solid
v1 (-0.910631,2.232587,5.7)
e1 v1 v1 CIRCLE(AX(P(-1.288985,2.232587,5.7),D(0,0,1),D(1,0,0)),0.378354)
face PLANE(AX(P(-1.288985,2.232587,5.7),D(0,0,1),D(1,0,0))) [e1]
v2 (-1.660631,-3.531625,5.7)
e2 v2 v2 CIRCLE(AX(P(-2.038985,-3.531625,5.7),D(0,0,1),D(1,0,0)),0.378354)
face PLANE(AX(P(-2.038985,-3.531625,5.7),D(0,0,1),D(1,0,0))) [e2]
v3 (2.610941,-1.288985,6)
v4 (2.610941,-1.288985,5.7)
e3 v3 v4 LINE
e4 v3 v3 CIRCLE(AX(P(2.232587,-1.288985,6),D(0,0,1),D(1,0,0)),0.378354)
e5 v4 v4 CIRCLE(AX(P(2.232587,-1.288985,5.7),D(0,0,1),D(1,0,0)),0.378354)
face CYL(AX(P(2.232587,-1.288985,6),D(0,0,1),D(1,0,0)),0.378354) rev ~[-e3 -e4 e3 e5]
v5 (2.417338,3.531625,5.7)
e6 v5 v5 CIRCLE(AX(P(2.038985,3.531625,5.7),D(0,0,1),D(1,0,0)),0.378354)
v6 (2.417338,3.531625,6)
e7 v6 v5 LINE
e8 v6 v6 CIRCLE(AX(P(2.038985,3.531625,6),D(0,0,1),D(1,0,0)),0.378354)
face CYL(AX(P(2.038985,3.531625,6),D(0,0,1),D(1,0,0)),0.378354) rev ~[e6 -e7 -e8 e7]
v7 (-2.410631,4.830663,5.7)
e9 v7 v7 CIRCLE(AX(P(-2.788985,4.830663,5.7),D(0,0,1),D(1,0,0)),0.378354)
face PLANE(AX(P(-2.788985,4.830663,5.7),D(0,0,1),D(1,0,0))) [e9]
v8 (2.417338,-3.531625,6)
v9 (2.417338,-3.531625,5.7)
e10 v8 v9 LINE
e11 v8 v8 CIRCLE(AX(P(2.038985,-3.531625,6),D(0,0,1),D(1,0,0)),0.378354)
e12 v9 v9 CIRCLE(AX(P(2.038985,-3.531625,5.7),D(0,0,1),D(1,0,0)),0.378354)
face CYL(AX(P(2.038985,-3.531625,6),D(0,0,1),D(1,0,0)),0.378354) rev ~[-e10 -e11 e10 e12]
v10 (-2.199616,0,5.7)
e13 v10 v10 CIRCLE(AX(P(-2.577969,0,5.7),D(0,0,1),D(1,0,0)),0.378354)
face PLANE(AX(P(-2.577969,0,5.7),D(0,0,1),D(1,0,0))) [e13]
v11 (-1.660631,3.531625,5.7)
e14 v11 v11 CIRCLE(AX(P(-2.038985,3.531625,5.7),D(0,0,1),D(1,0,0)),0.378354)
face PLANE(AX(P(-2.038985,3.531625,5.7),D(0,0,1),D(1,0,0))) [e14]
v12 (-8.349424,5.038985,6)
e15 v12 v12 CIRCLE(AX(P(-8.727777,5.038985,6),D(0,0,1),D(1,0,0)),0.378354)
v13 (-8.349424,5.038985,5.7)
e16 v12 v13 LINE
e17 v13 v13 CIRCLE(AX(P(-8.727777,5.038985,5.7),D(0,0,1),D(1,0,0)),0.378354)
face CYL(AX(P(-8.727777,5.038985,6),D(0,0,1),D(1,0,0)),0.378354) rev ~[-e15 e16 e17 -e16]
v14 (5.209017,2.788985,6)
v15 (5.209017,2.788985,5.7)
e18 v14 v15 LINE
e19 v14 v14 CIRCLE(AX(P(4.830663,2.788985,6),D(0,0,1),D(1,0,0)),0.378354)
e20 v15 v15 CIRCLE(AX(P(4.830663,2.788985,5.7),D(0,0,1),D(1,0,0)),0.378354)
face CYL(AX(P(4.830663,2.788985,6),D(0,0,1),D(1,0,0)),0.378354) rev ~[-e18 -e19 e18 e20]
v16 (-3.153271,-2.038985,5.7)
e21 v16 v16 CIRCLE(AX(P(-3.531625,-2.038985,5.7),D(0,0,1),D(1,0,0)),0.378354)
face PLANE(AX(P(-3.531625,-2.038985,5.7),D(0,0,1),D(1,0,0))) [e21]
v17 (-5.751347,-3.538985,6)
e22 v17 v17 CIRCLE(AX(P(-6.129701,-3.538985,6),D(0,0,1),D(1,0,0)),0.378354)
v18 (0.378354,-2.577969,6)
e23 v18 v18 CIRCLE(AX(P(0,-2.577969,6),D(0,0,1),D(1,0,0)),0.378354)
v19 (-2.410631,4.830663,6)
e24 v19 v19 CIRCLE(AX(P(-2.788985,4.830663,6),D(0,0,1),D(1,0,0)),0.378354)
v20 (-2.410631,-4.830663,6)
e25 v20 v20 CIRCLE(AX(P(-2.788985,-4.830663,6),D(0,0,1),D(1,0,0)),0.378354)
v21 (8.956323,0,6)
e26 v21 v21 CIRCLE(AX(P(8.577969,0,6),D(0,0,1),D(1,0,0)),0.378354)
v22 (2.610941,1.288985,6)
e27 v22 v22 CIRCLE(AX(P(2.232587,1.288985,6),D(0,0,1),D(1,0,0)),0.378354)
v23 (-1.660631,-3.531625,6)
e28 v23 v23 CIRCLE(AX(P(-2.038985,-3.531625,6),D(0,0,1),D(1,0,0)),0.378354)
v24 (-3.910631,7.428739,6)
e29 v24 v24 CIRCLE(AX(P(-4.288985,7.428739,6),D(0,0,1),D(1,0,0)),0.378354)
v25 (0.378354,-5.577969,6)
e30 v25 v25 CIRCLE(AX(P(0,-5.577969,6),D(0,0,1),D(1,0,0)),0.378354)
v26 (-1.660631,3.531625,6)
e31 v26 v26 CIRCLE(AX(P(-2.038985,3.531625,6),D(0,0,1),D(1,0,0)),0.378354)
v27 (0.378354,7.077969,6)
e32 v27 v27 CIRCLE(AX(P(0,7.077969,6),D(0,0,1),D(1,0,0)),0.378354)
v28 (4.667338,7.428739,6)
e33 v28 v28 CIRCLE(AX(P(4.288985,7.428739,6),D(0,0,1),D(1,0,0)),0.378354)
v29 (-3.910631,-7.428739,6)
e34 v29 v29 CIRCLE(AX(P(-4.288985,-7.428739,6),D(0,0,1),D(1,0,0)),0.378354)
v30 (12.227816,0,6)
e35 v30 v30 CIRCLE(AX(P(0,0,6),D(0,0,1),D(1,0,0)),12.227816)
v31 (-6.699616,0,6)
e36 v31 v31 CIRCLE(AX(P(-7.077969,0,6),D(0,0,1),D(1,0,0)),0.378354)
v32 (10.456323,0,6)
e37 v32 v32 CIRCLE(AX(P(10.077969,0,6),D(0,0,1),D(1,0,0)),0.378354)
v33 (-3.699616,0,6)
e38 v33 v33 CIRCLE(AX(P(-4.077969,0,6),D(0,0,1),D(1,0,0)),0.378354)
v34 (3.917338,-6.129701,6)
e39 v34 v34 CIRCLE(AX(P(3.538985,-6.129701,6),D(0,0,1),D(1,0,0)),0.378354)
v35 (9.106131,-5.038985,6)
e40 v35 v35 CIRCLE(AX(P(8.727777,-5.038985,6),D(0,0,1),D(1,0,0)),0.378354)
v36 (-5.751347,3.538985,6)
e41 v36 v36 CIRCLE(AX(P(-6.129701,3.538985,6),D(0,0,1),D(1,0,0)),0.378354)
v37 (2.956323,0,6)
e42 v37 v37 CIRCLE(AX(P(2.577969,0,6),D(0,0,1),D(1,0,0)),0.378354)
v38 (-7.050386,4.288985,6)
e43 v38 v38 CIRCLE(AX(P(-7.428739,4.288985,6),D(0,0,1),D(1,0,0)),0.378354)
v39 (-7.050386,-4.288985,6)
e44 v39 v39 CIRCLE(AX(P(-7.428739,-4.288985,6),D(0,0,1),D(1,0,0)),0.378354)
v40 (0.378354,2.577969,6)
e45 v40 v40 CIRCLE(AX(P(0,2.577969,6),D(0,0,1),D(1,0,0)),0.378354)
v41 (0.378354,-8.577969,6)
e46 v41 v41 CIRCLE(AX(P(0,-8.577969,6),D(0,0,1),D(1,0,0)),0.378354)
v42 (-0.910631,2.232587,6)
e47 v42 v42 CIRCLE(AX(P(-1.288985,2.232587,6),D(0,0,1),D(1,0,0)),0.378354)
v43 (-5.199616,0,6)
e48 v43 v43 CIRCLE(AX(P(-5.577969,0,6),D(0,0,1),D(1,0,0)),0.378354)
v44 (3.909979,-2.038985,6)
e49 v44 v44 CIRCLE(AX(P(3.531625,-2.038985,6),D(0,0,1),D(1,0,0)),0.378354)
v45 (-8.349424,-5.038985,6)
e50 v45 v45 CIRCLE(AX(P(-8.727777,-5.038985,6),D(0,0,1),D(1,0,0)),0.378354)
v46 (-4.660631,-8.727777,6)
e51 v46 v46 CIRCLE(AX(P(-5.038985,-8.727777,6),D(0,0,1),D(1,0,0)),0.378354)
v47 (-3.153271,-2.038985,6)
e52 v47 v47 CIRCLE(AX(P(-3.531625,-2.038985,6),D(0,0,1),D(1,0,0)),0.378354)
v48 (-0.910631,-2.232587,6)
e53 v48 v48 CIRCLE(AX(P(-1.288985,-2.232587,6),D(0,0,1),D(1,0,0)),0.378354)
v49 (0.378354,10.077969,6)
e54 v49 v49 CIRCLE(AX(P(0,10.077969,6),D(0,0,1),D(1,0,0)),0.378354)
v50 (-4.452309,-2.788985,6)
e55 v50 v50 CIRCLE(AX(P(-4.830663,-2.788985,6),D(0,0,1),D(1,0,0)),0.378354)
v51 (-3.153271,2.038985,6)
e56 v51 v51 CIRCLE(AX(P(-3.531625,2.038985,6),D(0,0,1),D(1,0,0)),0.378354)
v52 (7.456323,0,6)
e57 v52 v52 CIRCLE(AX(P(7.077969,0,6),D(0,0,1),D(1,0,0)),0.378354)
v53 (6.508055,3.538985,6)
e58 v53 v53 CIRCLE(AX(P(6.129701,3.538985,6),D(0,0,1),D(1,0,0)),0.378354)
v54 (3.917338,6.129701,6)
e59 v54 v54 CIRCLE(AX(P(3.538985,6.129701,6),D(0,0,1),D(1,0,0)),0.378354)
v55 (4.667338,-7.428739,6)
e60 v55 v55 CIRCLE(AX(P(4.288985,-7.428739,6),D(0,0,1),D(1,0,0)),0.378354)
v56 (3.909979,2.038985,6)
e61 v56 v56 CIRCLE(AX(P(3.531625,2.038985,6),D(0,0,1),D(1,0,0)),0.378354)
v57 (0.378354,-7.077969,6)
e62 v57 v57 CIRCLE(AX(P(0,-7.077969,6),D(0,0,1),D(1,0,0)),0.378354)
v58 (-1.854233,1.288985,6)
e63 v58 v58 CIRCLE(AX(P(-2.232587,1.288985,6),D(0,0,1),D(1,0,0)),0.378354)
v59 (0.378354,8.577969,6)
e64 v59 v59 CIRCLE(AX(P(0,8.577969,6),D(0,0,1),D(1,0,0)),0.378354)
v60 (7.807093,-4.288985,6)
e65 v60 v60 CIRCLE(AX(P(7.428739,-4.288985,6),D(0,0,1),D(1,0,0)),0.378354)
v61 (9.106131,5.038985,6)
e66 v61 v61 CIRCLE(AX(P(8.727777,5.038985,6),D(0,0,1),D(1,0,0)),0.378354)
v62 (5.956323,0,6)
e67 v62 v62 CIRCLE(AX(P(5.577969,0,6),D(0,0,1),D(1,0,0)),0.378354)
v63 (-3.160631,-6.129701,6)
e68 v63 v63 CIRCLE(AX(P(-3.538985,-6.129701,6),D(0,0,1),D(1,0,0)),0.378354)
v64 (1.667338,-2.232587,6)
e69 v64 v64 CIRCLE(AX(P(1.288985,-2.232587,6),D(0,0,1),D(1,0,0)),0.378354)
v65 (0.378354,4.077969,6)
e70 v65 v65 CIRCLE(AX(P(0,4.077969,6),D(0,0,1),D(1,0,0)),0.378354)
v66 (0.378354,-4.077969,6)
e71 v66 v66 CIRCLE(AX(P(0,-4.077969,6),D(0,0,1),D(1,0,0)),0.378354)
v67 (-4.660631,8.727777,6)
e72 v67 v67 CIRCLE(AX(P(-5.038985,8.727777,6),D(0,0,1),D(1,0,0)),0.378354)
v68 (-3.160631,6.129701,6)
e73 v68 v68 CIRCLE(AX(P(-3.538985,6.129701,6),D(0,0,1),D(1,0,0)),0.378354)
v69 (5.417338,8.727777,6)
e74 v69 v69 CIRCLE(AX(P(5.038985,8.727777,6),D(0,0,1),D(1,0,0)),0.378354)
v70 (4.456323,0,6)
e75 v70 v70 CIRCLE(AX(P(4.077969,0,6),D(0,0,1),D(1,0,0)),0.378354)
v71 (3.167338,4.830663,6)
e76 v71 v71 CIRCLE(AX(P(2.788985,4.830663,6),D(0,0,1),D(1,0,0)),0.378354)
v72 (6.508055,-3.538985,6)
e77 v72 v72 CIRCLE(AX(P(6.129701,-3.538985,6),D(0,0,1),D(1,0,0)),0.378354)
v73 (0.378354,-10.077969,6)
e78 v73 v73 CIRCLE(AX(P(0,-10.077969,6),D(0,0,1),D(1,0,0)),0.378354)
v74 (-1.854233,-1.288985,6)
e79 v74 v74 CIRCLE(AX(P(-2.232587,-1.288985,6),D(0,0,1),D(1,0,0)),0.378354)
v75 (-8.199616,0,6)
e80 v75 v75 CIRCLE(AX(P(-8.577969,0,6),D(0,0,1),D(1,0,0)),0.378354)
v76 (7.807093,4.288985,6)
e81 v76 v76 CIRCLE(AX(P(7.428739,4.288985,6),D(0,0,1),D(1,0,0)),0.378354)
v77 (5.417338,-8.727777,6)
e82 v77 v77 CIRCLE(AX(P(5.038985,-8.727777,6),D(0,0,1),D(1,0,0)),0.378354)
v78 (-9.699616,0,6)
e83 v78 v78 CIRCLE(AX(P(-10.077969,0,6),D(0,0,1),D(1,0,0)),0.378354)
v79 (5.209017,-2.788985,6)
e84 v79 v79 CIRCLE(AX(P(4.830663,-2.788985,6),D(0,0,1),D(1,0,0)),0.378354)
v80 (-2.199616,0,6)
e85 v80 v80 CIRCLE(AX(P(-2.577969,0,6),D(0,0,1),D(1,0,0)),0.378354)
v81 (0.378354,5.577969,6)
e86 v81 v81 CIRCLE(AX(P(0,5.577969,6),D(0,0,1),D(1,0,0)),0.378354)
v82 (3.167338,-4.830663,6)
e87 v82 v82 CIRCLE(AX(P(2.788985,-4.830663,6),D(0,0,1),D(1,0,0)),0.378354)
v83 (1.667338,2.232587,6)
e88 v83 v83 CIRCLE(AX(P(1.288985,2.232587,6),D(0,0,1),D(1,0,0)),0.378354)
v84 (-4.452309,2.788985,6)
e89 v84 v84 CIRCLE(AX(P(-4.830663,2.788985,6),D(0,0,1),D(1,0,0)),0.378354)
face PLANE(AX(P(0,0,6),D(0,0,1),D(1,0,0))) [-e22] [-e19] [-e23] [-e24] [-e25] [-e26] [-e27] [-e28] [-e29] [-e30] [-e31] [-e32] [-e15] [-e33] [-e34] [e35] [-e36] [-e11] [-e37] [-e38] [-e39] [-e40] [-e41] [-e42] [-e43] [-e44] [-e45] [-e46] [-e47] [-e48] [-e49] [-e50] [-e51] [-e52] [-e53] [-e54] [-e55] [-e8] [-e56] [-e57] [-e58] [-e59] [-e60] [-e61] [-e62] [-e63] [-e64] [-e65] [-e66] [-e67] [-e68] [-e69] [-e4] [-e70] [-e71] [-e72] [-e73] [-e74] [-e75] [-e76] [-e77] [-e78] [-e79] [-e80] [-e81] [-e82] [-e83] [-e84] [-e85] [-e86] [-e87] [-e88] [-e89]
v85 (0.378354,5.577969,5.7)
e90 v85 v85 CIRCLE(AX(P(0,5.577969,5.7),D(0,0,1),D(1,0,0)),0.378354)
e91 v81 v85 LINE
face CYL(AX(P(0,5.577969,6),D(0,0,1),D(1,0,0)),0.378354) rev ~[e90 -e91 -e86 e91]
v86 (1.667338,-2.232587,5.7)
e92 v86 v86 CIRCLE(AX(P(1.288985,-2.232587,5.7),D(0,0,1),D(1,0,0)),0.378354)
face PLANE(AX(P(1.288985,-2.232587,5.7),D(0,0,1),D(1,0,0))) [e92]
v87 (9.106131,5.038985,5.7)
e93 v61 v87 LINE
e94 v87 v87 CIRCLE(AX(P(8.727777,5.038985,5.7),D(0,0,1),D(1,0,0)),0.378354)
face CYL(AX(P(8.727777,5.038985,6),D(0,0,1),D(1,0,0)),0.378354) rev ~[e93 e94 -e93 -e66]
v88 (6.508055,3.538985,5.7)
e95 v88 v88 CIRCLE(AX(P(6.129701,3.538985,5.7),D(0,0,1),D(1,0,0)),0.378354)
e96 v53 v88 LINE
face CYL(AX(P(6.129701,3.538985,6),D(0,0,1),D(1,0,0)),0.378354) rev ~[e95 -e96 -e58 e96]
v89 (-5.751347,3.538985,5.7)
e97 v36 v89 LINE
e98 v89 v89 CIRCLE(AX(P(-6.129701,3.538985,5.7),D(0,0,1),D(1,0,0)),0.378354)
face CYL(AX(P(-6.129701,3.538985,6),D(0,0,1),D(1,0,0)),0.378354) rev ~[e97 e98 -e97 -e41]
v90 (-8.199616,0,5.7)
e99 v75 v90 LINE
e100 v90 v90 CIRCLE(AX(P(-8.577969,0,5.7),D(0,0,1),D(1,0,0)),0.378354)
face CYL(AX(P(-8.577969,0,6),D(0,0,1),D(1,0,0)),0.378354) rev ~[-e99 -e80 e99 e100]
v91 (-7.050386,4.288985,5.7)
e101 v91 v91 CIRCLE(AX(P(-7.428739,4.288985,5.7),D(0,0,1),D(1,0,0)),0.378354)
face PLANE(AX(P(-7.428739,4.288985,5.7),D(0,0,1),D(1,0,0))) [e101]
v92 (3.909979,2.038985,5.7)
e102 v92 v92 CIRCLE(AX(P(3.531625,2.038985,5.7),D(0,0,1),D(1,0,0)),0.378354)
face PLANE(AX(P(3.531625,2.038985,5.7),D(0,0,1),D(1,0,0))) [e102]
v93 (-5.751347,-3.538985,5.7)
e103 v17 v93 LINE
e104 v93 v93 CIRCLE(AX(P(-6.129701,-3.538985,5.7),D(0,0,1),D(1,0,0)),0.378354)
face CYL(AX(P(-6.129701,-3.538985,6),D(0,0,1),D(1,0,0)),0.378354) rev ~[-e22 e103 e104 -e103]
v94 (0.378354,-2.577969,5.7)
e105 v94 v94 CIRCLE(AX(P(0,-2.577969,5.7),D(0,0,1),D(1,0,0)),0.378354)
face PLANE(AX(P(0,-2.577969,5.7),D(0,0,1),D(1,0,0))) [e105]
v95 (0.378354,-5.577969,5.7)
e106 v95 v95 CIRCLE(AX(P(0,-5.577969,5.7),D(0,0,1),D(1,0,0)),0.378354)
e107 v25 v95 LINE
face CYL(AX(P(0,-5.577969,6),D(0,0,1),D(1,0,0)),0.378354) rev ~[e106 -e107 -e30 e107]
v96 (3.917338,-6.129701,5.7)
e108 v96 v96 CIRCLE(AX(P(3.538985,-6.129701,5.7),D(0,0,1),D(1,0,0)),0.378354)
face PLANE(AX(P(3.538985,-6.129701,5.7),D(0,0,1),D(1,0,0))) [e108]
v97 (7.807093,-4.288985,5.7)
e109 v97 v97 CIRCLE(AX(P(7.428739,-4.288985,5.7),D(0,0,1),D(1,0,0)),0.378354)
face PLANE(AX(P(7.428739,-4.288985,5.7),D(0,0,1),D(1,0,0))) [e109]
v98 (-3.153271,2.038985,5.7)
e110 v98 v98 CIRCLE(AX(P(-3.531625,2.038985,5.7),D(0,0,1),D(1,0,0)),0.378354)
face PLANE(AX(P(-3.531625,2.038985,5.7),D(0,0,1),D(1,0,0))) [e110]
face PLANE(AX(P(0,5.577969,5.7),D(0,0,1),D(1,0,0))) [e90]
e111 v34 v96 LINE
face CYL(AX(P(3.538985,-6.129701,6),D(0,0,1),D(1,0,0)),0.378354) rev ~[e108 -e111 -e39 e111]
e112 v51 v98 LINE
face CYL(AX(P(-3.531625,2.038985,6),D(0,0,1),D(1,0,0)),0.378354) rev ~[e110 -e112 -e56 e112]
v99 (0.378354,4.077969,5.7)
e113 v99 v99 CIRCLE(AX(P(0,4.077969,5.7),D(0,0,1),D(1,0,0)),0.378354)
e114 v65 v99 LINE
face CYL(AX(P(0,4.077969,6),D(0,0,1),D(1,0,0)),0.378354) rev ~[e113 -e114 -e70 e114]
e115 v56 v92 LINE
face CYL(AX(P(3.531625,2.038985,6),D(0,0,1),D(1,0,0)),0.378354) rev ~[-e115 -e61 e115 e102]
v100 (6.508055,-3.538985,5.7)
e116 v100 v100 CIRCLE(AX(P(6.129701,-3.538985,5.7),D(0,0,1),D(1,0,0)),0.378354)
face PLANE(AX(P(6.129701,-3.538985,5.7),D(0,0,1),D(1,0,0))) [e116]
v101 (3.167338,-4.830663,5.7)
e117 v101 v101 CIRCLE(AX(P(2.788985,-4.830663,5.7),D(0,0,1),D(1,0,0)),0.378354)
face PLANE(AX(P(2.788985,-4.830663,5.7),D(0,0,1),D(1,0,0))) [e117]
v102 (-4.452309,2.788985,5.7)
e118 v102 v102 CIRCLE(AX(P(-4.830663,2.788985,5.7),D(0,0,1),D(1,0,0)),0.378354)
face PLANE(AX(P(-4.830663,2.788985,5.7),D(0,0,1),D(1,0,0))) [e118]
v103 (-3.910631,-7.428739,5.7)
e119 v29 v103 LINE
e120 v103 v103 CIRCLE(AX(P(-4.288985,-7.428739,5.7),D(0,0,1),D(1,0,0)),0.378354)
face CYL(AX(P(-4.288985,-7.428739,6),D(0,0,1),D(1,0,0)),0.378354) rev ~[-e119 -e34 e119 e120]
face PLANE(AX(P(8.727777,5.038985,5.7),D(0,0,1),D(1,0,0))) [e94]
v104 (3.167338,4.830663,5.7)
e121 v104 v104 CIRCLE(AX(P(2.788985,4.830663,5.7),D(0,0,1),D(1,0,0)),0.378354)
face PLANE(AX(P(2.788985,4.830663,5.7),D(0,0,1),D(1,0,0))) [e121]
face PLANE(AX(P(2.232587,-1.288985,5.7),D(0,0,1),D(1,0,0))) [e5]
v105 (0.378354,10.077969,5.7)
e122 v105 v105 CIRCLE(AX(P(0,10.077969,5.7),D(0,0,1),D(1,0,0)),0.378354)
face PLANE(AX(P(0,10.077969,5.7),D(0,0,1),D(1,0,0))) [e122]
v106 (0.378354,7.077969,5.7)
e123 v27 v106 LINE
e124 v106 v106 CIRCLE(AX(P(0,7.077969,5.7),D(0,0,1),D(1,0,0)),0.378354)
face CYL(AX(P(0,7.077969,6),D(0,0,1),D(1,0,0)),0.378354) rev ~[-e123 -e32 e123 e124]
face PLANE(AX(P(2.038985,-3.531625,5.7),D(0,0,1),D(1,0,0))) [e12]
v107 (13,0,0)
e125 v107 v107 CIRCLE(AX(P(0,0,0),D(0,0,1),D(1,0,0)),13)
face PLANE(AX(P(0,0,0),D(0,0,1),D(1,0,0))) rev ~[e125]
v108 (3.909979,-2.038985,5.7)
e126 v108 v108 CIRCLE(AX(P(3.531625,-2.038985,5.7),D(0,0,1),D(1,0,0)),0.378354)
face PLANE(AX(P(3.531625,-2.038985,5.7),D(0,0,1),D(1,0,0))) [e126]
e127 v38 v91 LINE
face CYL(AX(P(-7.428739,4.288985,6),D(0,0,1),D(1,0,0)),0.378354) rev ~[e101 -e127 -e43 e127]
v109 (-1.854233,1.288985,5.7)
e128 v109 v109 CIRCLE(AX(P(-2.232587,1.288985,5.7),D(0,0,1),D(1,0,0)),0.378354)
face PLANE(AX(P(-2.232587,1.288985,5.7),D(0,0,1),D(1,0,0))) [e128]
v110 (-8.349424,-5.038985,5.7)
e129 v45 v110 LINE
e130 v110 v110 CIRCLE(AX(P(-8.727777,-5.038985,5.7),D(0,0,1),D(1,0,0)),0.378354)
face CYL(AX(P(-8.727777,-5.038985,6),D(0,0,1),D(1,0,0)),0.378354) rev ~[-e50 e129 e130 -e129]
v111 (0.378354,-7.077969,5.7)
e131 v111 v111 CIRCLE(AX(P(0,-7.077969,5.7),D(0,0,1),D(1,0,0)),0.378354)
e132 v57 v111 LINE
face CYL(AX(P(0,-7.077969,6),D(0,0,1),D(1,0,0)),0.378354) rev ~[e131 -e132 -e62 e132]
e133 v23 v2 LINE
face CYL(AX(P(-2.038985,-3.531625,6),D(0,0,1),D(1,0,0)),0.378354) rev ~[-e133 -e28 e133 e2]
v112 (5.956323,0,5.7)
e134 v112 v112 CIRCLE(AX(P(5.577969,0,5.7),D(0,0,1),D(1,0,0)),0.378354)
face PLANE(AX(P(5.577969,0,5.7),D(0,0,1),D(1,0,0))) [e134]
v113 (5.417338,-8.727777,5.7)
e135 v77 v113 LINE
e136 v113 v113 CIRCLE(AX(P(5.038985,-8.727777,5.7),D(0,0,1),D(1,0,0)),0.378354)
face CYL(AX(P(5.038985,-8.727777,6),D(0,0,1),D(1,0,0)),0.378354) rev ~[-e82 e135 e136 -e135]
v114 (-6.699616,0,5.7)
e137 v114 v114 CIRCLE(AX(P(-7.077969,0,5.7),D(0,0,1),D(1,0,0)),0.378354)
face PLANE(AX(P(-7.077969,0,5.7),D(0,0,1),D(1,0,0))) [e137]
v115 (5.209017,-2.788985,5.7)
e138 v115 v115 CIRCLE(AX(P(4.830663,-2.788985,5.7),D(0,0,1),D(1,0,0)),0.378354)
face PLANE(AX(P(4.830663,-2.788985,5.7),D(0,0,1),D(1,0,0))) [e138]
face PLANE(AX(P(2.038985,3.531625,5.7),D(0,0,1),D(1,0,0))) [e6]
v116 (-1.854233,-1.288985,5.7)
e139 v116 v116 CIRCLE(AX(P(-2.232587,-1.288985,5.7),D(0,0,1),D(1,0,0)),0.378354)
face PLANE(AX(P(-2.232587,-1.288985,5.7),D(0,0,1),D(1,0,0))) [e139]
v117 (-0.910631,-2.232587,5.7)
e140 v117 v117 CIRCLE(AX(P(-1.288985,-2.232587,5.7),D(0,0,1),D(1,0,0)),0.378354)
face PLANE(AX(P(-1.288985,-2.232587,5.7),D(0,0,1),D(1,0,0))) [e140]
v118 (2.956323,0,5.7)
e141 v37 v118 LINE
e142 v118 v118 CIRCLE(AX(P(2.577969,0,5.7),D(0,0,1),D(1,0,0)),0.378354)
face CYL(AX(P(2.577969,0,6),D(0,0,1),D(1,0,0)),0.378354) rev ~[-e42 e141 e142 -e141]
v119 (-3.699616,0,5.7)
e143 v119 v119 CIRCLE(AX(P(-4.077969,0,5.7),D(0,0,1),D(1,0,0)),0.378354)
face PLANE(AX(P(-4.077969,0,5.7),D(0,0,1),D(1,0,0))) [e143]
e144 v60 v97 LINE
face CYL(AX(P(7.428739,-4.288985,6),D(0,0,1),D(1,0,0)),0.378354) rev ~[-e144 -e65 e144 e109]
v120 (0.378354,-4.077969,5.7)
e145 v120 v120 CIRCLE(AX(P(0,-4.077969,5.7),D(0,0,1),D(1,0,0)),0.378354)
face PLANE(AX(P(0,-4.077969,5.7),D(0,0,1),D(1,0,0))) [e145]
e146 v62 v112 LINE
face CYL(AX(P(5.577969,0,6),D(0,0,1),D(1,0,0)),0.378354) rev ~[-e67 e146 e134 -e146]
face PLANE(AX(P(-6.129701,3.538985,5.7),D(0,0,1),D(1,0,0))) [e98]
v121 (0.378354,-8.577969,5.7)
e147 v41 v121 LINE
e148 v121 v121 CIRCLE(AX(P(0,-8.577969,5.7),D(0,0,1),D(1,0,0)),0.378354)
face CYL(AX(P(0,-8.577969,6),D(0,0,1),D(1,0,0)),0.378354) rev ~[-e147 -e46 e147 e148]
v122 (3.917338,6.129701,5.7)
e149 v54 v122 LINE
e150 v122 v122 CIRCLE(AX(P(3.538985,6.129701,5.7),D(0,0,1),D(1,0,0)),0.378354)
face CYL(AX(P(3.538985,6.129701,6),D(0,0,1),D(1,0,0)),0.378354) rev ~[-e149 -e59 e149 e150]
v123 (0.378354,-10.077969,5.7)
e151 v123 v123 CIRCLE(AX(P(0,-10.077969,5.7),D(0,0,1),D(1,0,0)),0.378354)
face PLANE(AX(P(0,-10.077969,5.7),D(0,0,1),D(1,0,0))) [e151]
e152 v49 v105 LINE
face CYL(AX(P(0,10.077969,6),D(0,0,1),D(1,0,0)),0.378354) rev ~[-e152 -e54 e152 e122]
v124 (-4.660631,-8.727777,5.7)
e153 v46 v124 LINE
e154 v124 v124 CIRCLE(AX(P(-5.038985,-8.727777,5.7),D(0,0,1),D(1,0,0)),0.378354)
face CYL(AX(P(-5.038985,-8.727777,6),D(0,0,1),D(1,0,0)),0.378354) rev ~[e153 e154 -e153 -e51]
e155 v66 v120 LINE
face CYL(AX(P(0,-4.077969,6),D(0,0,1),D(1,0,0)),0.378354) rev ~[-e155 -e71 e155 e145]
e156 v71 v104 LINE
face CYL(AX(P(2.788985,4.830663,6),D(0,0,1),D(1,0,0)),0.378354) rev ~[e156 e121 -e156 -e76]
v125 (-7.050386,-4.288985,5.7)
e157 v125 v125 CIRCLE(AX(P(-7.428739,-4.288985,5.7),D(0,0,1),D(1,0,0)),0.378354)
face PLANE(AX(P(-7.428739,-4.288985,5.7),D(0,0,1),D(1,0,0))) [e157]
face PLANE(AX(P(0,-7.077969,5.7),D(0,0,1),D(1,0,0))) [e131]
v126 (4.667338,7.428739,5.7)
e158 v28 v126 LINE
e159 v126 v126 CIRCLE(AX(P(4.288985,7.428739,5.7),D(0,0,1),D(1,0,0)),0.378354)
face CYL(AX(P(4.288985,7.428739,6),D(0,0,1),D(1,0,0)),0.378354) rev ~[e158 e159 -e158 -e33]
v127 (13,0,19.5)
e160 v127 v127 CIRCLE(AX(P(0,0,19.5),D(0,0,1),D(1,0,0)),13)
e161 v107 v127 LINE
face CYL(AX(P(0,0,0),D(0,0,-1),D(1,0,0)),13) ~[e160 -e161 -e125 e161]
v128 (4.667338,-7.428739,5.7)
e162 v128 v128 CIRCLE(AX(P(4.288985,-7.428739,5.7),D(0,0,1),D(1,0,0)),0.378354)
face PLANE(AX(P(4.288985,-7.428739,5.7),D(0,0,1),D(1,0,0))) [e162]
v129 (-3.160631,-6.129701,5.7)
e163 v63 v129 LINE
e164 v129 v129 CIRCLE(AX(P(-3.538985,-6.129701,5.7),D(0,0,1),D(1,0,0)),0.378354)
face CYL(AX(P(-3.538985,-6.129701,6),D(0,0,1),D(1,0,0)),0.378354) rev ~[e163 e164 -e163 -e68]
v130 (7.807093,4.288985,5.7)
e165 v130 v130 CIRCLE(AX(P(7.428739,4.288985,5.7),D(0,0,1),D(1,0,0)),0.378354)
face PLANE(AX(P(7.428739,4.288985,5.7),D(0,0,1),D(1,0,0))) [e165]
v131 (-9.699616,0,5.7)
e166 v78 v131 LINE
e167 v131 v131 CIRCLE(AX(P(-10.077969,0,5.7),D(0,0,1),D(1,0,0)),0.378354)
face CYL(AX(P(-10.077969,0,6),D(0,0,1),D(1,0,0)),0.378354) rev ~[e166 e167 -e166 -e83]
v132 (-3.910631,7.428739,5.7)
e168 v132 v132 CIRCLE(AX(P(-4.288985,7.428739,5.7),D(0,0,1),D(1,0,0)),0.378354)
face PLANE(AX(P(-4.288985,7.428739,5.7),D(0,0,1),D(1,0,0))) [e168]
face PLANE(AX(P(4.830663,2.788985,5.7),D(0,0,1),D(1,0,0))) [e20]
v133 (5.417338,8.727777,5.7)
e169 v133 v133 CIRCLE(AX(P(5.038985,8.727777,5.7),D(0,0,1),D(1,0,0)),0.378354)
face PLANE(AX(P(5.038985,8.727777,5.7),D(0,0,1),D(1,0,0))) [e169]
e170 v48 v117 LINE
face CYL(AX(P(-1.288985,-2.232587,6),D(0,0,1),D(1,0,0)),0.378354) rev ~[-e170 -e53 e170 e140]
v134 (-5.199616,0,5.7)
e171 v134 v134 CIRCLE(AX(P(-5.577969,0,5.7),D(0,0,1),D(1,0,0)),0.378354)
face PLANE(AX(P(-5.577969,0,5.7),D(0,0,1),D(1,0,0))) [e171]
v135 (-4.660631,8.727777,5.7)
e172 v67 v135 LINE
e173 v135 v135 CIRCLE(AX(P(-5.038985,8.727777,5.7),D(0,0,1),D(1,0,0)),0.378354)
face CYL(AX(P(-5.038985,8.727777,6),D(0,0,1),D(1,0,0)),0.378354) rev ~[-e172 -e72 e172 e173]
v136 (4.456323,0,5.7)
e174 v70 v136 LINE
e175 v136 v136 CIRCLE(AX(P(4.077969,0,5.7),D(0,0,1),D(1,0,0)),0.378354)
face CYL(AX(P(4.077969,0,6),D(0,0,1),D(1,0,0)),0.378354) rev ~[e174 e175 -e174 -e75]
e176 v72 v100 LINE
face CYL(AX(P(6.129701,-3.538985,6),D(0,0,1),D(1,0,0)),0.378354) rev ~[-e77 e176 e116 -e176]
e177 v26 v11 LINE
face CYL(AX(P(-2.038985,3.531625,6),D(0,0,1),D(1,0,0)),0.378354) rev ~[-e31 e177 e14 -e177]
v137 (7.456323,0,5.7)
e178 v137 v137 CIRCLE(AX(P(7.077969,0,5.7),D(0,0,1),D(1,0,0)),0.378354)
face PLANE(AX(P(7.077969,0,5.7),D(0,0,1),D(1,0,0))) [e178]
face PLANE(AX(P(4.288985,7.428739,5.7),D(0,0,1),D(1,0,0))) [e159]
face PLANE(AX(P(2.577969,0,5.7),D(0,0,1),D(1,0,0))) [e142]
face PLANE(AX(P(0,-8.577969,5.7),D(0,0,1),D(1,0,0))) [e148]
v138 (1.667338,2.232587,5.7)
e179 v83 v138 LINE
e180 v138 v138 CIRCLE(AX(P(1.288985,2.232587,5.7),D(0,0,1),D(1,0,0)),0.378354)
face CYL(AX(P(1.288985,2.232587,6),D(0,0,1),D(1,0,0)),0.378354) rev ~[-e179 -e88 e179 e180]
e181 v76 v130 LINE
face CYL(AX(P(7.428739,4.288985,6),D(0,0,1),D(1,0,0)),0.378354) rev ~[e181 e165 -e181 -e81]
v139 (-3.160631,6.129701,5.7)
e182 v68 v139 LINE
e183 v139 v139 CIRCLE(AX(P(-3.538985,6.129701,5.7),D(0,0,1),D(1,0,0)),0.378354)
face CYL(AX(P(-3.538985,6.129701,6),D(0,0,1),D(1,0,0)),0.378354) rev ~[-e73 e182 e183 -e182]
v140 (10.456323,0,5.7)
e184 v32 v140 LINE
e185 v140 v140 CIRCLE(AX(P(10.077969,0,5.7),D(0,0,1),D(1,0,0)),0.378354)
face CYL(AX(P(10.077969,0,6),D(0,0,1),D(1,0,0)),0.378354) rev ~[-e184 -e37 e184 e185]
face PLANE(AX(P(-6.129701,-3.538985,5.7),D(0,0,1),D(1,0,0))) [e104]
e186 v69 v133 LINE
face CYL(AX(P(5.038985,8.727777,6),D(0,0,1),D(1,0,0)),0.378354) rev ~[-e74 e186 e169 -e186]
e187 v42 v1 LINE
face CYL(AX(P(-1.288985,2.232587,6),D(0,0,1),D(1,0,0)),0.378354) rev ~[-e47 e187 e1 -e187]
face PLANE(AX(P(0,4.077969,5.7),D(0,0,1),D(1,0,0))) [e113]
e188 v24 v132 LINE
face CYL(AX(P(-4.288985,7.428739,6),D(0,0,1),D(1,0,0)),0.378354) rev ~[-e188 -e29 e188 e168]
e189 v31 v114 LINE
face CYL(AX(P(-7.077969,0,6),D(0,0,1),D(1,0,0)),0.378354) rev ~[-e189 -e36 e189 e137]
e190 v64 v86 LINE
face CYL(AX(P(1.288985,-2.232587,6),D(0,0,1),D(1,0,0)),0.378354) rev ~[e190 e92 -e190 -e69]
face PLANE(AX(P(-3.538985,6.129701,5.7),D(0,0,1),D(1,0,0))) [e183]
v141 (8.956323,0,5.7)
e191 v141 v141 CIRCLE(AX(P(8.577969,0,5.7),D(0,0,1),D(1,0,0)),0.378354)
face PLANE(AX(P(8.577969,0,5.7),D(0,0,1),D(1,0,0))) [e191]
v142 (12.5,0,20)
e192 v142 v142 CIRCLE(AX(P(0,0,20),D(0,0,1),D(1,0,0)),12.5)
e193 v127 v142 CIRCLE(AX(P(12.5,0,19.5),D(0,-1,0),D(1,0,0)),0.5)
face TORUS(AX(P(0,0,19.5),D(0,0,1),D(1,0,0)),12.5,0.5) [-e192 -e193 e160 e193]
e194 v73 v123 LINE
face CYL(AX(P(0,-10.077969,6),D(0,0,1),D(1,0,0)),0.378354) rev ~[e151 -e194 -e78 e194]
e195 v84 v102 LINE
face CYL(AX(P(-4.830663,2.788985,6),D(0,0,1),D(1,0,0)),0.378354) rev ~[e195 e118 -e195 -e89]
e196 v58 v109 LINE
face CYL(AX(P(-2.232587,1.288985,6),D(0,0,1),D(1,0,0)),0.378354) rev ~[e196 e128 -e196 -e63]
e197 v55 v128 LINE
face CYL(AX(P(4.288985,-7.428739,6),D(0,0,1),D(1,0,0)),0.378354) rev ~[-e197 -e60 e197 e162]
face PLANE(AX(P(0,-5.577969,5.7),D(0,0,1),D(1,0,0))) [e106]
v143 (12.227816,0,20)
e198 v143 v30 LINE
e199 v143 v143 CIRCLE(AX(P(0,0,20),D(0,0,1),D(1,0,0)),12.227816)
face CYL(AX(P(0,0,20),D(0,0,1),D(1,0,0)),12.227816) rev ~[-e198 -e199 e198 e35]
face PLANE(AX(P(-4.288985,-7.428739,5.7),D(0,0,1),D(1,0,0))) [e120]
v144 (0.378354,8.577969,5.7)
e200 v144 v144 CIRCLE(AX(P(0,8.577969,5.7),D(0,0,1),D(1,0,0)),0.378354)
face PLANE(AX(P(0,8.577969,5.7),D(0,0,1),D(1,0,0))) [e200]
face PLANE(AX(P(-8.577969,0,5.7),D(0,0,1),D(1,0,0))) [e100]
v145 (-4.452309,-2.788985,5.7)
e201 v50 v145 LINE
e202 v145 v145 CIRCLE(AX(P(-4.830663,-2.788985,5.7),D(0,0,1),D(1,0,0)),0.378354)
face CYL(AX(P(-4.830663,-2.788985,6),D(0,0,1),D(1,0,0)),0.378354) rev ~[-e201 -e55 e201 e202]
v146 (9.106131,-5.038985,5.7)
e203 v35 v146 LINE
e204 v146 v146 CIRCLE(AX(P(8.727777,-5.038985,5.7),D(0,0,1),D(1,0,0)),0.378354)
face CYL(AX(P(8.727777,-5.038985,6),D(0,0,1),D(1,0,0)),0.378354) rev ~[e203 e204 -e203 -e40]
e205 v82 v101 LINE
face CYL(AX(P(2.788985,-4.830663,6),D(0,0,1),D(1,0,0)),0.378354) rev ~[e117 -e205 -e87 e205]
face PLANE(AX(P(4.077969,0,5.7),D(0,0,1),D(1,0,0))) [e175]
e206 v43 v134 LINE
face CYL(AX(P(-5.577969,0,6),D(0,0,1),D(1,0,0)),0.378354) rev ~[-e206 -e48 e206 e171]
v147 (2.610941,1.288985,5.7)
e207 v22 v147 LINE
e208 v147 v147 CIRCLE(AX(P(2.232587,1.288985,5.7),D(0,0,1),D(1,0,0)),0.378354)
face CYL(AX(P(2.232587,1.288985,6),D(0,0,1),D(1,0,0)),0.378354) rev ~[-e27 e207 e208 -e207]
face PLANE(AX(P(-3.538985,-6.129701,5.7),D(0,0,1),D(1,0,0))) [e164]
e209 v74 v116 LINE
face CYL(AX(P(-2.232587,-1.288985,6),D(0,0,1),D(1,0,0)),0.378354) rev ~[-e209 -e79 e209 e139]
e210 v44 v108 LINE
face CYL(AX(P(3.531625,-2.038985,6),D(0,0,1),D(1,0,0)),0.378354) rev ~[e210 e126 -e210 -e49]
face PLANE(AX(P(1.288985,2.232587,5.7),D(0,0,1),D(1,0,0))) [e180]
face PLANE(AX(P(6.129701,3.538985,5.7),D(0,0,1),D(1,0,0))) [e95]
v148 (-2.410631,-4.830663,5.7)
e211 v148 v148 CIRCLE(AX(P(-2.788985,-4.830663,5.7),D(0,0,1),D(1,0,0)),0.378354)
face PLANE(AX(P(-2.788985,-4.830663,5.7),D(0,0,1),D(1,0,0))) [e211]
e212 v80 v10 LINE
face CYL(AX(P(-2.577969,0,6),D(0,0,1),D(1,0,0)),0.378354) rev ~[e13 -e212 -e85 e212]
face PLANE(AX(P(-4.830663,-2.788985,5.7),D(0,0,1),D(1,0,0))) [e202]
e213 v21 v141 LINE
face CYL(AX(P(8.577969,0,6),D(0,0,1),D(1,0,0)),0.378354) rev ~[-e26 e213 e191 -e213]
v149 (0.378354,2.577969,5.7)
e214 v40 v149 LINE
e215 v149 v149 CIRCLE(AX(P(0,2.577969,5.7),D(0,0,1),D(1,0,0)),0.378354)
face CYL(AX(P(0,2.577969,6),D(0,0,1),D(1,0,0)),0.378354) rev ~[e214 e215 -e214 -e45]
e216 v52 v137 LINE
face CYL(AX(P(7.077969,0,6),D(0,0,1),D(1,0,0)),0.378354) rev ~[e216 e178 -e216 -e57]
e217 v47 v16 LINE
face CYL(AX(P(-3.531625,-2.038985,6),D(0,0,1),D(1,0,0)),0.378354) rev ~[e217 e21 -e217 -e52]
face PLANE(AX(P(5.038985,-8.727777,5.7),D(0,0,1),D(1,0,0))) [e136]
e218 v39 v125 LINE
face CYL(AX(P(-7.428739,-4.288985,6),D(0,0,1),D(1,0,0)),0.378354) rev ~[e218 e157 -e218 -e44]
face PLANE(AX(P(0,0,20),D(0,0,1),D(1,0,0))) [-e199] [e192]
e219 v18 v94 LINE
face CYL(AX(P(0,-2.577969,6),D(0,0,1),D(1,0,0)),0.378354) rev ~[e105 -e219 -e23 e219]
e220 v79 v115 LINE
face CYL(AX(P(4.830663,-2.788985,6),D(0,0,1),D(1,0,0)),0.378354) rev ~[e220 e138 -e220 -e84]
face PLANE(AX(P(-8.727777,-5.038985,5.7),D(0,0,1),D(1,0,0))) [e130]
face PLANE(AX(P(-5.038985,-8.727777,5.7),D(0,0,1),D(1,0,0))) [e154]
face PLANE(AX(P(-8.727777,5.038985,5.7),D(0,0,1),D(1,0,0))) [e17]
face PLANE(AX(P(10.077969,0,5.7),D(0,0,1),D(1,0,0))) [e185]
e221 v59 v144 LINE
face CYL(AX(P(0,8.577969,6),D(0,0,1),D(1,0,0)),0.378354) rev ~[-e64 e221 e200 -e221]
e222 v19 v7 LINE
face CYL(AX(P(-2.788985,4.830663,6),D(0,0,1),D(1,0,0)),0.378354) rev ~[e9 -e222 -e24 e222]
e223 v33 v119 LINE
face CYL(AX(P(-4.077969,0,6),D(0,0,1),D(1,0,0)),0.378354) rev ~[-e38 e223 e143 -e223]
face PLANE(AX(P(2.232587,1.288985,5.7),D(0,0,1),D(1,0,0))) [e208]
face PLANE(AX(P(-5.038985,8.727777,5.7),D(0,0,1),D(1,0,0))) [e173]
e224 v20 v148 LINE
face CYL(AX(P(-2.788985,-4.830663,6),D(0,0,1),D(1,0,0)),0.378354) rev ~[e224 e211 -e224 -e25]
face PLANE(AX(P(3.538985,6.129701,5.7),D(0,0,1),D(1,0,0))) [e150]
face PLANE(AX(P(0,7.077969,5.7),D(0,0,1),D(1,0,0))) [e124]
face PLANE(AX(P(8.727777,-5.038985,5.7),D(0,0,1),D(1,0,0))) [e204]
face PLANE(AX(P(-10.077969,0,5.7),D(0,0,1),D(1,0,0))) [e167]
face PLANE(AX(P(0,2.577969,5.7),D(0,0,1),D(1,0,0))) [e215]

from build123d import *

# Parameters (mm, degrees)
SKETCH1_R           = 13
BOSS_EXTRUDE1_DEPTH = 20
SKETCH2_R           = 12.227815656
CUT_EXTRUDE1_DEPTH  = 14
SKETCH3_R           = 0.378353797
CUT_EXTRUDE2_DEPTH  = 0.3
FILLET1_R           = 0.5


with BuildPart() as part:
    # Sketch1 → Boss-Extrude1 (new body)
    with BuildSketch(Plane.XY):
        Circle(SKETCH1_R)
    extrude(amount=BOSS_EXTRUDE1_DEPTH)

    # Sketch2 → Cut-Extrude1 (cut)
    with BuildSketch(Plane.XY.offset(20)):
        Circle(SKETCH2_R)
    extrude(amount=-CUT_EXTRUDE1_DEPTH, mode=Mode.SUBTRACT)

    # Sketch3 → Cut-Extrude2 (cut)
    with BuildSketch(Plane.XY.offset(6)):
        with Locations((0, 10.077969325)):
            Circle(SKETCH3_R)
        with Locations((0, 8.577969325)):
            Circle(SKETCH3_R)
        with Locations((0, 7.077969325)):
            Circle(SKETCH3_R)
        with Locations((0, 5.577969325)):
            Circle(SKETCH3_R)
        with Locations((0, 4.077969325)):
            Circle(SKETCH3_R)
        with Locations((0, 2.577969325)):
            Circle(SKETCH3_R)
        with Locations((5.038984662, 8.727777454)):
            Circle(SKETCH3_R)
        with Locations((4.288984662, 7.428739348)):
            Circle(SKETCH3_R)
        with Locations((3.538984662, 6.129701243)):
            Circle(SKETCH3_R)
        with Locations((2.788984662, 4.830663137)):
            Circle(SKETCH3_R)
        with Locations((2.038984662, 3.531625031)):
            Circle(SKETCH3_R)
        with Locations((1.288984662, 2.232586926)):
            Circle(SKETCH3_R)
        with Locations((8.727777454, 5.038984662)):
            Circle(SKETCH3_R)
        with Locations((7.428739348, 4.288984662)):
            Circle(SKETCH3_R)
        with Locations((6.129701243, 3.538984662)):
            Circle(SKETCH3_R)
        with Locations((4.830663137, 2.788984662)):
            Circle(SKETCH3_R)
        with Locations((3.531625031, 2.038984662)):
            Circle(SKETCH3_R)
        with Locations((2.232586926, 1.288984662)):
            Circle(SKETCH3_R)
        with Locations((10.077969325, 0)):
            Circle(SKETCH3_R)
        with Locations((8.577969325, 0)):
            Circle(SKETCH3_R)
        with Locations((7.077969325, 0)):
            Circle(SKETCH3_R)
        with Locations((5.577969325, 0)):
            Circle(SKETCH3_R)
        with Locations((4.077969325, 0)):
            Circle(SKETCH3_R)
        with Locations((2.577969325, 0)):
            Circle(SKETCH3_R)
        with Locations((8.727777454, -5.038984662)):
            Circle(SKETCH3_R)
        with Locations((7.428739348, -4.288984662)):
            Circle(SKETCH3_R)
        with Locations((6.129701243, -3.538984662)):
            Circle(SKETCH3_R)
        with Locations((4.830663137, -2.788984662)):
            Circle(SKETCH3_R)
        with Locations((3.531625031, -2.038984662)):
            Circle(SKETCH3_R)
        with Locations((2.232586926, -1.288984662)):
            Circle(SKETCH3_R)
        with Locations((5.038984662, -8.727777454)):
            Circle(SKETCH3_R)
        with Locations((4.288984662, -7.428739348)):
            Circle(SKETCH3_R)
        with Locations((3.538984662, -6.129701243)):
            Circle(SKETCH3_R)
        with Locations((2.788984662, -4.830663137)):
            Circle(SKETCH3_R)
        with Locations((2.038984662, -3.531625031)):
            Circle(SKETCH3_R)
        with Locations((1.288984662, -2.232586926)):
            Circle(SKETCH3_R)
        with Locations((0, -10.077969325)):
            Circle(SKETCH3_R)
        with Locations((0, -8.577969325)):
            Circle(SKETCH3_R)
        with Locations((0, -7.077969325)):
            Circle(SKETCH3_R)
        with Locations((0, -5.577969325)):
            Circle(SKETCH3_R)
        with Locations((0, -4.077969325)):
            Circle(SKETCH3_R)
        with Locations((0, -2.577969325)):
            Circle(SKETCH3_R)
        with Locations((-5.038984662, -8.727777454)):
            Circle(SKETCH3_R)
        with Locations((-4.288984662, -7.428739348)):
            Circle(SKETCH3_R)
        with Locations((-3.538984662, -6.129701243)):
            Circle(SKETCH3_R)
        with Locations((-2.788984662, -4.830663137)):
            Circle(SKETCH3_R)
        with Locations((-2.038984662, -3.531625031)):
            Circle(SKETCH3_R)
        with Locations((-1.288984662, -2.232586926)):
            Circle(SKETCH3_R)
        with Locations((-8.727777454, -5.038984662)):
            Circle(SKETCH3_R)
        with Locations((-7.428739348, -4.288984662)):
            Circle(SKETCH3_R)
        with Locations((-6.129701243, -3.538984662)):
            Circle(SKETCH3_R)
        with Locations((-4.830663137, -2.788984662)):
            Circle(SKETCH3_R)
        with Locations((-3.531625031, -2.038984662)):
            Circle(SKETCH3_R)
        with Locations((-2.232586926, -1.288984662)):
            Circle(SKETCH3_R)
        with Locations((-10.077969325, 0)):
            Circle(SKETCH3_R)
        with Locations((-8.577969325, 0)):
            Circle(SKETCH3_R)
        with Locations((-7.077969325, 0)):
            Circle(SKETCH3_R)
        with Locations((-5.577969325, 0)):
            Circle(SKETCH3_R)
        with Locations((-4.077969325, 0)):
            Circle(SKETCH3_R)
        with Locations((-2.577969325, 0)):
            Circle(SKETCH3_R)
        with Locations((-8.727777454, 5.038984662)):
            Circle(SKETCH3_R)
        with Locations((-7.428739348, 4.288984662)):
            Circle(SKETCH3_R)
        with Locations((-6.129701243, 3.538984662)):
            Circle(SKETCH3_R)
        with Locations((-4.830663137, 2.788984662)):
            Circle(SKETCH3_R)
        with Locations((-3.531625031, 2.038984662)):
            Circle(SKETCH3_R)
        with Locations((-2.232586926, 1.288984662)):
            Circle(SKETCH3_R)
        with Locations((-5.038984662, 8.727777454)):
            Circle(SKETCH3_R)
        with Locations((-4.288984662, 7.428739348)):
            Circle(SKETCH3_R)
        with Locations((-3.538984662, 6.129701243)):
            Circle(SKETCH3_R)
        with Locations((-2.788984662, 4.830663137)):
            Circle(SKETCH3_R)
        with Locations((-2.038984662, 3.531625031)):
            Circle(SKETCH3_R)
        with Locations((-1.288984662, 2.232586926)):
            Circle(SKETCH3_R)
    extrude(amount=-CUT_EXTRUDE2_DEPTH, mode=Mode.SUBTRACT)

    # Fillet1
    fillet1_edges = [part.edges().sort_by_distance(p)[0] for p in [
        (-13, 0, 20),
    ]]
    fillet(fillet1_edges, radius=FILLET1_R)


solid = part.part
